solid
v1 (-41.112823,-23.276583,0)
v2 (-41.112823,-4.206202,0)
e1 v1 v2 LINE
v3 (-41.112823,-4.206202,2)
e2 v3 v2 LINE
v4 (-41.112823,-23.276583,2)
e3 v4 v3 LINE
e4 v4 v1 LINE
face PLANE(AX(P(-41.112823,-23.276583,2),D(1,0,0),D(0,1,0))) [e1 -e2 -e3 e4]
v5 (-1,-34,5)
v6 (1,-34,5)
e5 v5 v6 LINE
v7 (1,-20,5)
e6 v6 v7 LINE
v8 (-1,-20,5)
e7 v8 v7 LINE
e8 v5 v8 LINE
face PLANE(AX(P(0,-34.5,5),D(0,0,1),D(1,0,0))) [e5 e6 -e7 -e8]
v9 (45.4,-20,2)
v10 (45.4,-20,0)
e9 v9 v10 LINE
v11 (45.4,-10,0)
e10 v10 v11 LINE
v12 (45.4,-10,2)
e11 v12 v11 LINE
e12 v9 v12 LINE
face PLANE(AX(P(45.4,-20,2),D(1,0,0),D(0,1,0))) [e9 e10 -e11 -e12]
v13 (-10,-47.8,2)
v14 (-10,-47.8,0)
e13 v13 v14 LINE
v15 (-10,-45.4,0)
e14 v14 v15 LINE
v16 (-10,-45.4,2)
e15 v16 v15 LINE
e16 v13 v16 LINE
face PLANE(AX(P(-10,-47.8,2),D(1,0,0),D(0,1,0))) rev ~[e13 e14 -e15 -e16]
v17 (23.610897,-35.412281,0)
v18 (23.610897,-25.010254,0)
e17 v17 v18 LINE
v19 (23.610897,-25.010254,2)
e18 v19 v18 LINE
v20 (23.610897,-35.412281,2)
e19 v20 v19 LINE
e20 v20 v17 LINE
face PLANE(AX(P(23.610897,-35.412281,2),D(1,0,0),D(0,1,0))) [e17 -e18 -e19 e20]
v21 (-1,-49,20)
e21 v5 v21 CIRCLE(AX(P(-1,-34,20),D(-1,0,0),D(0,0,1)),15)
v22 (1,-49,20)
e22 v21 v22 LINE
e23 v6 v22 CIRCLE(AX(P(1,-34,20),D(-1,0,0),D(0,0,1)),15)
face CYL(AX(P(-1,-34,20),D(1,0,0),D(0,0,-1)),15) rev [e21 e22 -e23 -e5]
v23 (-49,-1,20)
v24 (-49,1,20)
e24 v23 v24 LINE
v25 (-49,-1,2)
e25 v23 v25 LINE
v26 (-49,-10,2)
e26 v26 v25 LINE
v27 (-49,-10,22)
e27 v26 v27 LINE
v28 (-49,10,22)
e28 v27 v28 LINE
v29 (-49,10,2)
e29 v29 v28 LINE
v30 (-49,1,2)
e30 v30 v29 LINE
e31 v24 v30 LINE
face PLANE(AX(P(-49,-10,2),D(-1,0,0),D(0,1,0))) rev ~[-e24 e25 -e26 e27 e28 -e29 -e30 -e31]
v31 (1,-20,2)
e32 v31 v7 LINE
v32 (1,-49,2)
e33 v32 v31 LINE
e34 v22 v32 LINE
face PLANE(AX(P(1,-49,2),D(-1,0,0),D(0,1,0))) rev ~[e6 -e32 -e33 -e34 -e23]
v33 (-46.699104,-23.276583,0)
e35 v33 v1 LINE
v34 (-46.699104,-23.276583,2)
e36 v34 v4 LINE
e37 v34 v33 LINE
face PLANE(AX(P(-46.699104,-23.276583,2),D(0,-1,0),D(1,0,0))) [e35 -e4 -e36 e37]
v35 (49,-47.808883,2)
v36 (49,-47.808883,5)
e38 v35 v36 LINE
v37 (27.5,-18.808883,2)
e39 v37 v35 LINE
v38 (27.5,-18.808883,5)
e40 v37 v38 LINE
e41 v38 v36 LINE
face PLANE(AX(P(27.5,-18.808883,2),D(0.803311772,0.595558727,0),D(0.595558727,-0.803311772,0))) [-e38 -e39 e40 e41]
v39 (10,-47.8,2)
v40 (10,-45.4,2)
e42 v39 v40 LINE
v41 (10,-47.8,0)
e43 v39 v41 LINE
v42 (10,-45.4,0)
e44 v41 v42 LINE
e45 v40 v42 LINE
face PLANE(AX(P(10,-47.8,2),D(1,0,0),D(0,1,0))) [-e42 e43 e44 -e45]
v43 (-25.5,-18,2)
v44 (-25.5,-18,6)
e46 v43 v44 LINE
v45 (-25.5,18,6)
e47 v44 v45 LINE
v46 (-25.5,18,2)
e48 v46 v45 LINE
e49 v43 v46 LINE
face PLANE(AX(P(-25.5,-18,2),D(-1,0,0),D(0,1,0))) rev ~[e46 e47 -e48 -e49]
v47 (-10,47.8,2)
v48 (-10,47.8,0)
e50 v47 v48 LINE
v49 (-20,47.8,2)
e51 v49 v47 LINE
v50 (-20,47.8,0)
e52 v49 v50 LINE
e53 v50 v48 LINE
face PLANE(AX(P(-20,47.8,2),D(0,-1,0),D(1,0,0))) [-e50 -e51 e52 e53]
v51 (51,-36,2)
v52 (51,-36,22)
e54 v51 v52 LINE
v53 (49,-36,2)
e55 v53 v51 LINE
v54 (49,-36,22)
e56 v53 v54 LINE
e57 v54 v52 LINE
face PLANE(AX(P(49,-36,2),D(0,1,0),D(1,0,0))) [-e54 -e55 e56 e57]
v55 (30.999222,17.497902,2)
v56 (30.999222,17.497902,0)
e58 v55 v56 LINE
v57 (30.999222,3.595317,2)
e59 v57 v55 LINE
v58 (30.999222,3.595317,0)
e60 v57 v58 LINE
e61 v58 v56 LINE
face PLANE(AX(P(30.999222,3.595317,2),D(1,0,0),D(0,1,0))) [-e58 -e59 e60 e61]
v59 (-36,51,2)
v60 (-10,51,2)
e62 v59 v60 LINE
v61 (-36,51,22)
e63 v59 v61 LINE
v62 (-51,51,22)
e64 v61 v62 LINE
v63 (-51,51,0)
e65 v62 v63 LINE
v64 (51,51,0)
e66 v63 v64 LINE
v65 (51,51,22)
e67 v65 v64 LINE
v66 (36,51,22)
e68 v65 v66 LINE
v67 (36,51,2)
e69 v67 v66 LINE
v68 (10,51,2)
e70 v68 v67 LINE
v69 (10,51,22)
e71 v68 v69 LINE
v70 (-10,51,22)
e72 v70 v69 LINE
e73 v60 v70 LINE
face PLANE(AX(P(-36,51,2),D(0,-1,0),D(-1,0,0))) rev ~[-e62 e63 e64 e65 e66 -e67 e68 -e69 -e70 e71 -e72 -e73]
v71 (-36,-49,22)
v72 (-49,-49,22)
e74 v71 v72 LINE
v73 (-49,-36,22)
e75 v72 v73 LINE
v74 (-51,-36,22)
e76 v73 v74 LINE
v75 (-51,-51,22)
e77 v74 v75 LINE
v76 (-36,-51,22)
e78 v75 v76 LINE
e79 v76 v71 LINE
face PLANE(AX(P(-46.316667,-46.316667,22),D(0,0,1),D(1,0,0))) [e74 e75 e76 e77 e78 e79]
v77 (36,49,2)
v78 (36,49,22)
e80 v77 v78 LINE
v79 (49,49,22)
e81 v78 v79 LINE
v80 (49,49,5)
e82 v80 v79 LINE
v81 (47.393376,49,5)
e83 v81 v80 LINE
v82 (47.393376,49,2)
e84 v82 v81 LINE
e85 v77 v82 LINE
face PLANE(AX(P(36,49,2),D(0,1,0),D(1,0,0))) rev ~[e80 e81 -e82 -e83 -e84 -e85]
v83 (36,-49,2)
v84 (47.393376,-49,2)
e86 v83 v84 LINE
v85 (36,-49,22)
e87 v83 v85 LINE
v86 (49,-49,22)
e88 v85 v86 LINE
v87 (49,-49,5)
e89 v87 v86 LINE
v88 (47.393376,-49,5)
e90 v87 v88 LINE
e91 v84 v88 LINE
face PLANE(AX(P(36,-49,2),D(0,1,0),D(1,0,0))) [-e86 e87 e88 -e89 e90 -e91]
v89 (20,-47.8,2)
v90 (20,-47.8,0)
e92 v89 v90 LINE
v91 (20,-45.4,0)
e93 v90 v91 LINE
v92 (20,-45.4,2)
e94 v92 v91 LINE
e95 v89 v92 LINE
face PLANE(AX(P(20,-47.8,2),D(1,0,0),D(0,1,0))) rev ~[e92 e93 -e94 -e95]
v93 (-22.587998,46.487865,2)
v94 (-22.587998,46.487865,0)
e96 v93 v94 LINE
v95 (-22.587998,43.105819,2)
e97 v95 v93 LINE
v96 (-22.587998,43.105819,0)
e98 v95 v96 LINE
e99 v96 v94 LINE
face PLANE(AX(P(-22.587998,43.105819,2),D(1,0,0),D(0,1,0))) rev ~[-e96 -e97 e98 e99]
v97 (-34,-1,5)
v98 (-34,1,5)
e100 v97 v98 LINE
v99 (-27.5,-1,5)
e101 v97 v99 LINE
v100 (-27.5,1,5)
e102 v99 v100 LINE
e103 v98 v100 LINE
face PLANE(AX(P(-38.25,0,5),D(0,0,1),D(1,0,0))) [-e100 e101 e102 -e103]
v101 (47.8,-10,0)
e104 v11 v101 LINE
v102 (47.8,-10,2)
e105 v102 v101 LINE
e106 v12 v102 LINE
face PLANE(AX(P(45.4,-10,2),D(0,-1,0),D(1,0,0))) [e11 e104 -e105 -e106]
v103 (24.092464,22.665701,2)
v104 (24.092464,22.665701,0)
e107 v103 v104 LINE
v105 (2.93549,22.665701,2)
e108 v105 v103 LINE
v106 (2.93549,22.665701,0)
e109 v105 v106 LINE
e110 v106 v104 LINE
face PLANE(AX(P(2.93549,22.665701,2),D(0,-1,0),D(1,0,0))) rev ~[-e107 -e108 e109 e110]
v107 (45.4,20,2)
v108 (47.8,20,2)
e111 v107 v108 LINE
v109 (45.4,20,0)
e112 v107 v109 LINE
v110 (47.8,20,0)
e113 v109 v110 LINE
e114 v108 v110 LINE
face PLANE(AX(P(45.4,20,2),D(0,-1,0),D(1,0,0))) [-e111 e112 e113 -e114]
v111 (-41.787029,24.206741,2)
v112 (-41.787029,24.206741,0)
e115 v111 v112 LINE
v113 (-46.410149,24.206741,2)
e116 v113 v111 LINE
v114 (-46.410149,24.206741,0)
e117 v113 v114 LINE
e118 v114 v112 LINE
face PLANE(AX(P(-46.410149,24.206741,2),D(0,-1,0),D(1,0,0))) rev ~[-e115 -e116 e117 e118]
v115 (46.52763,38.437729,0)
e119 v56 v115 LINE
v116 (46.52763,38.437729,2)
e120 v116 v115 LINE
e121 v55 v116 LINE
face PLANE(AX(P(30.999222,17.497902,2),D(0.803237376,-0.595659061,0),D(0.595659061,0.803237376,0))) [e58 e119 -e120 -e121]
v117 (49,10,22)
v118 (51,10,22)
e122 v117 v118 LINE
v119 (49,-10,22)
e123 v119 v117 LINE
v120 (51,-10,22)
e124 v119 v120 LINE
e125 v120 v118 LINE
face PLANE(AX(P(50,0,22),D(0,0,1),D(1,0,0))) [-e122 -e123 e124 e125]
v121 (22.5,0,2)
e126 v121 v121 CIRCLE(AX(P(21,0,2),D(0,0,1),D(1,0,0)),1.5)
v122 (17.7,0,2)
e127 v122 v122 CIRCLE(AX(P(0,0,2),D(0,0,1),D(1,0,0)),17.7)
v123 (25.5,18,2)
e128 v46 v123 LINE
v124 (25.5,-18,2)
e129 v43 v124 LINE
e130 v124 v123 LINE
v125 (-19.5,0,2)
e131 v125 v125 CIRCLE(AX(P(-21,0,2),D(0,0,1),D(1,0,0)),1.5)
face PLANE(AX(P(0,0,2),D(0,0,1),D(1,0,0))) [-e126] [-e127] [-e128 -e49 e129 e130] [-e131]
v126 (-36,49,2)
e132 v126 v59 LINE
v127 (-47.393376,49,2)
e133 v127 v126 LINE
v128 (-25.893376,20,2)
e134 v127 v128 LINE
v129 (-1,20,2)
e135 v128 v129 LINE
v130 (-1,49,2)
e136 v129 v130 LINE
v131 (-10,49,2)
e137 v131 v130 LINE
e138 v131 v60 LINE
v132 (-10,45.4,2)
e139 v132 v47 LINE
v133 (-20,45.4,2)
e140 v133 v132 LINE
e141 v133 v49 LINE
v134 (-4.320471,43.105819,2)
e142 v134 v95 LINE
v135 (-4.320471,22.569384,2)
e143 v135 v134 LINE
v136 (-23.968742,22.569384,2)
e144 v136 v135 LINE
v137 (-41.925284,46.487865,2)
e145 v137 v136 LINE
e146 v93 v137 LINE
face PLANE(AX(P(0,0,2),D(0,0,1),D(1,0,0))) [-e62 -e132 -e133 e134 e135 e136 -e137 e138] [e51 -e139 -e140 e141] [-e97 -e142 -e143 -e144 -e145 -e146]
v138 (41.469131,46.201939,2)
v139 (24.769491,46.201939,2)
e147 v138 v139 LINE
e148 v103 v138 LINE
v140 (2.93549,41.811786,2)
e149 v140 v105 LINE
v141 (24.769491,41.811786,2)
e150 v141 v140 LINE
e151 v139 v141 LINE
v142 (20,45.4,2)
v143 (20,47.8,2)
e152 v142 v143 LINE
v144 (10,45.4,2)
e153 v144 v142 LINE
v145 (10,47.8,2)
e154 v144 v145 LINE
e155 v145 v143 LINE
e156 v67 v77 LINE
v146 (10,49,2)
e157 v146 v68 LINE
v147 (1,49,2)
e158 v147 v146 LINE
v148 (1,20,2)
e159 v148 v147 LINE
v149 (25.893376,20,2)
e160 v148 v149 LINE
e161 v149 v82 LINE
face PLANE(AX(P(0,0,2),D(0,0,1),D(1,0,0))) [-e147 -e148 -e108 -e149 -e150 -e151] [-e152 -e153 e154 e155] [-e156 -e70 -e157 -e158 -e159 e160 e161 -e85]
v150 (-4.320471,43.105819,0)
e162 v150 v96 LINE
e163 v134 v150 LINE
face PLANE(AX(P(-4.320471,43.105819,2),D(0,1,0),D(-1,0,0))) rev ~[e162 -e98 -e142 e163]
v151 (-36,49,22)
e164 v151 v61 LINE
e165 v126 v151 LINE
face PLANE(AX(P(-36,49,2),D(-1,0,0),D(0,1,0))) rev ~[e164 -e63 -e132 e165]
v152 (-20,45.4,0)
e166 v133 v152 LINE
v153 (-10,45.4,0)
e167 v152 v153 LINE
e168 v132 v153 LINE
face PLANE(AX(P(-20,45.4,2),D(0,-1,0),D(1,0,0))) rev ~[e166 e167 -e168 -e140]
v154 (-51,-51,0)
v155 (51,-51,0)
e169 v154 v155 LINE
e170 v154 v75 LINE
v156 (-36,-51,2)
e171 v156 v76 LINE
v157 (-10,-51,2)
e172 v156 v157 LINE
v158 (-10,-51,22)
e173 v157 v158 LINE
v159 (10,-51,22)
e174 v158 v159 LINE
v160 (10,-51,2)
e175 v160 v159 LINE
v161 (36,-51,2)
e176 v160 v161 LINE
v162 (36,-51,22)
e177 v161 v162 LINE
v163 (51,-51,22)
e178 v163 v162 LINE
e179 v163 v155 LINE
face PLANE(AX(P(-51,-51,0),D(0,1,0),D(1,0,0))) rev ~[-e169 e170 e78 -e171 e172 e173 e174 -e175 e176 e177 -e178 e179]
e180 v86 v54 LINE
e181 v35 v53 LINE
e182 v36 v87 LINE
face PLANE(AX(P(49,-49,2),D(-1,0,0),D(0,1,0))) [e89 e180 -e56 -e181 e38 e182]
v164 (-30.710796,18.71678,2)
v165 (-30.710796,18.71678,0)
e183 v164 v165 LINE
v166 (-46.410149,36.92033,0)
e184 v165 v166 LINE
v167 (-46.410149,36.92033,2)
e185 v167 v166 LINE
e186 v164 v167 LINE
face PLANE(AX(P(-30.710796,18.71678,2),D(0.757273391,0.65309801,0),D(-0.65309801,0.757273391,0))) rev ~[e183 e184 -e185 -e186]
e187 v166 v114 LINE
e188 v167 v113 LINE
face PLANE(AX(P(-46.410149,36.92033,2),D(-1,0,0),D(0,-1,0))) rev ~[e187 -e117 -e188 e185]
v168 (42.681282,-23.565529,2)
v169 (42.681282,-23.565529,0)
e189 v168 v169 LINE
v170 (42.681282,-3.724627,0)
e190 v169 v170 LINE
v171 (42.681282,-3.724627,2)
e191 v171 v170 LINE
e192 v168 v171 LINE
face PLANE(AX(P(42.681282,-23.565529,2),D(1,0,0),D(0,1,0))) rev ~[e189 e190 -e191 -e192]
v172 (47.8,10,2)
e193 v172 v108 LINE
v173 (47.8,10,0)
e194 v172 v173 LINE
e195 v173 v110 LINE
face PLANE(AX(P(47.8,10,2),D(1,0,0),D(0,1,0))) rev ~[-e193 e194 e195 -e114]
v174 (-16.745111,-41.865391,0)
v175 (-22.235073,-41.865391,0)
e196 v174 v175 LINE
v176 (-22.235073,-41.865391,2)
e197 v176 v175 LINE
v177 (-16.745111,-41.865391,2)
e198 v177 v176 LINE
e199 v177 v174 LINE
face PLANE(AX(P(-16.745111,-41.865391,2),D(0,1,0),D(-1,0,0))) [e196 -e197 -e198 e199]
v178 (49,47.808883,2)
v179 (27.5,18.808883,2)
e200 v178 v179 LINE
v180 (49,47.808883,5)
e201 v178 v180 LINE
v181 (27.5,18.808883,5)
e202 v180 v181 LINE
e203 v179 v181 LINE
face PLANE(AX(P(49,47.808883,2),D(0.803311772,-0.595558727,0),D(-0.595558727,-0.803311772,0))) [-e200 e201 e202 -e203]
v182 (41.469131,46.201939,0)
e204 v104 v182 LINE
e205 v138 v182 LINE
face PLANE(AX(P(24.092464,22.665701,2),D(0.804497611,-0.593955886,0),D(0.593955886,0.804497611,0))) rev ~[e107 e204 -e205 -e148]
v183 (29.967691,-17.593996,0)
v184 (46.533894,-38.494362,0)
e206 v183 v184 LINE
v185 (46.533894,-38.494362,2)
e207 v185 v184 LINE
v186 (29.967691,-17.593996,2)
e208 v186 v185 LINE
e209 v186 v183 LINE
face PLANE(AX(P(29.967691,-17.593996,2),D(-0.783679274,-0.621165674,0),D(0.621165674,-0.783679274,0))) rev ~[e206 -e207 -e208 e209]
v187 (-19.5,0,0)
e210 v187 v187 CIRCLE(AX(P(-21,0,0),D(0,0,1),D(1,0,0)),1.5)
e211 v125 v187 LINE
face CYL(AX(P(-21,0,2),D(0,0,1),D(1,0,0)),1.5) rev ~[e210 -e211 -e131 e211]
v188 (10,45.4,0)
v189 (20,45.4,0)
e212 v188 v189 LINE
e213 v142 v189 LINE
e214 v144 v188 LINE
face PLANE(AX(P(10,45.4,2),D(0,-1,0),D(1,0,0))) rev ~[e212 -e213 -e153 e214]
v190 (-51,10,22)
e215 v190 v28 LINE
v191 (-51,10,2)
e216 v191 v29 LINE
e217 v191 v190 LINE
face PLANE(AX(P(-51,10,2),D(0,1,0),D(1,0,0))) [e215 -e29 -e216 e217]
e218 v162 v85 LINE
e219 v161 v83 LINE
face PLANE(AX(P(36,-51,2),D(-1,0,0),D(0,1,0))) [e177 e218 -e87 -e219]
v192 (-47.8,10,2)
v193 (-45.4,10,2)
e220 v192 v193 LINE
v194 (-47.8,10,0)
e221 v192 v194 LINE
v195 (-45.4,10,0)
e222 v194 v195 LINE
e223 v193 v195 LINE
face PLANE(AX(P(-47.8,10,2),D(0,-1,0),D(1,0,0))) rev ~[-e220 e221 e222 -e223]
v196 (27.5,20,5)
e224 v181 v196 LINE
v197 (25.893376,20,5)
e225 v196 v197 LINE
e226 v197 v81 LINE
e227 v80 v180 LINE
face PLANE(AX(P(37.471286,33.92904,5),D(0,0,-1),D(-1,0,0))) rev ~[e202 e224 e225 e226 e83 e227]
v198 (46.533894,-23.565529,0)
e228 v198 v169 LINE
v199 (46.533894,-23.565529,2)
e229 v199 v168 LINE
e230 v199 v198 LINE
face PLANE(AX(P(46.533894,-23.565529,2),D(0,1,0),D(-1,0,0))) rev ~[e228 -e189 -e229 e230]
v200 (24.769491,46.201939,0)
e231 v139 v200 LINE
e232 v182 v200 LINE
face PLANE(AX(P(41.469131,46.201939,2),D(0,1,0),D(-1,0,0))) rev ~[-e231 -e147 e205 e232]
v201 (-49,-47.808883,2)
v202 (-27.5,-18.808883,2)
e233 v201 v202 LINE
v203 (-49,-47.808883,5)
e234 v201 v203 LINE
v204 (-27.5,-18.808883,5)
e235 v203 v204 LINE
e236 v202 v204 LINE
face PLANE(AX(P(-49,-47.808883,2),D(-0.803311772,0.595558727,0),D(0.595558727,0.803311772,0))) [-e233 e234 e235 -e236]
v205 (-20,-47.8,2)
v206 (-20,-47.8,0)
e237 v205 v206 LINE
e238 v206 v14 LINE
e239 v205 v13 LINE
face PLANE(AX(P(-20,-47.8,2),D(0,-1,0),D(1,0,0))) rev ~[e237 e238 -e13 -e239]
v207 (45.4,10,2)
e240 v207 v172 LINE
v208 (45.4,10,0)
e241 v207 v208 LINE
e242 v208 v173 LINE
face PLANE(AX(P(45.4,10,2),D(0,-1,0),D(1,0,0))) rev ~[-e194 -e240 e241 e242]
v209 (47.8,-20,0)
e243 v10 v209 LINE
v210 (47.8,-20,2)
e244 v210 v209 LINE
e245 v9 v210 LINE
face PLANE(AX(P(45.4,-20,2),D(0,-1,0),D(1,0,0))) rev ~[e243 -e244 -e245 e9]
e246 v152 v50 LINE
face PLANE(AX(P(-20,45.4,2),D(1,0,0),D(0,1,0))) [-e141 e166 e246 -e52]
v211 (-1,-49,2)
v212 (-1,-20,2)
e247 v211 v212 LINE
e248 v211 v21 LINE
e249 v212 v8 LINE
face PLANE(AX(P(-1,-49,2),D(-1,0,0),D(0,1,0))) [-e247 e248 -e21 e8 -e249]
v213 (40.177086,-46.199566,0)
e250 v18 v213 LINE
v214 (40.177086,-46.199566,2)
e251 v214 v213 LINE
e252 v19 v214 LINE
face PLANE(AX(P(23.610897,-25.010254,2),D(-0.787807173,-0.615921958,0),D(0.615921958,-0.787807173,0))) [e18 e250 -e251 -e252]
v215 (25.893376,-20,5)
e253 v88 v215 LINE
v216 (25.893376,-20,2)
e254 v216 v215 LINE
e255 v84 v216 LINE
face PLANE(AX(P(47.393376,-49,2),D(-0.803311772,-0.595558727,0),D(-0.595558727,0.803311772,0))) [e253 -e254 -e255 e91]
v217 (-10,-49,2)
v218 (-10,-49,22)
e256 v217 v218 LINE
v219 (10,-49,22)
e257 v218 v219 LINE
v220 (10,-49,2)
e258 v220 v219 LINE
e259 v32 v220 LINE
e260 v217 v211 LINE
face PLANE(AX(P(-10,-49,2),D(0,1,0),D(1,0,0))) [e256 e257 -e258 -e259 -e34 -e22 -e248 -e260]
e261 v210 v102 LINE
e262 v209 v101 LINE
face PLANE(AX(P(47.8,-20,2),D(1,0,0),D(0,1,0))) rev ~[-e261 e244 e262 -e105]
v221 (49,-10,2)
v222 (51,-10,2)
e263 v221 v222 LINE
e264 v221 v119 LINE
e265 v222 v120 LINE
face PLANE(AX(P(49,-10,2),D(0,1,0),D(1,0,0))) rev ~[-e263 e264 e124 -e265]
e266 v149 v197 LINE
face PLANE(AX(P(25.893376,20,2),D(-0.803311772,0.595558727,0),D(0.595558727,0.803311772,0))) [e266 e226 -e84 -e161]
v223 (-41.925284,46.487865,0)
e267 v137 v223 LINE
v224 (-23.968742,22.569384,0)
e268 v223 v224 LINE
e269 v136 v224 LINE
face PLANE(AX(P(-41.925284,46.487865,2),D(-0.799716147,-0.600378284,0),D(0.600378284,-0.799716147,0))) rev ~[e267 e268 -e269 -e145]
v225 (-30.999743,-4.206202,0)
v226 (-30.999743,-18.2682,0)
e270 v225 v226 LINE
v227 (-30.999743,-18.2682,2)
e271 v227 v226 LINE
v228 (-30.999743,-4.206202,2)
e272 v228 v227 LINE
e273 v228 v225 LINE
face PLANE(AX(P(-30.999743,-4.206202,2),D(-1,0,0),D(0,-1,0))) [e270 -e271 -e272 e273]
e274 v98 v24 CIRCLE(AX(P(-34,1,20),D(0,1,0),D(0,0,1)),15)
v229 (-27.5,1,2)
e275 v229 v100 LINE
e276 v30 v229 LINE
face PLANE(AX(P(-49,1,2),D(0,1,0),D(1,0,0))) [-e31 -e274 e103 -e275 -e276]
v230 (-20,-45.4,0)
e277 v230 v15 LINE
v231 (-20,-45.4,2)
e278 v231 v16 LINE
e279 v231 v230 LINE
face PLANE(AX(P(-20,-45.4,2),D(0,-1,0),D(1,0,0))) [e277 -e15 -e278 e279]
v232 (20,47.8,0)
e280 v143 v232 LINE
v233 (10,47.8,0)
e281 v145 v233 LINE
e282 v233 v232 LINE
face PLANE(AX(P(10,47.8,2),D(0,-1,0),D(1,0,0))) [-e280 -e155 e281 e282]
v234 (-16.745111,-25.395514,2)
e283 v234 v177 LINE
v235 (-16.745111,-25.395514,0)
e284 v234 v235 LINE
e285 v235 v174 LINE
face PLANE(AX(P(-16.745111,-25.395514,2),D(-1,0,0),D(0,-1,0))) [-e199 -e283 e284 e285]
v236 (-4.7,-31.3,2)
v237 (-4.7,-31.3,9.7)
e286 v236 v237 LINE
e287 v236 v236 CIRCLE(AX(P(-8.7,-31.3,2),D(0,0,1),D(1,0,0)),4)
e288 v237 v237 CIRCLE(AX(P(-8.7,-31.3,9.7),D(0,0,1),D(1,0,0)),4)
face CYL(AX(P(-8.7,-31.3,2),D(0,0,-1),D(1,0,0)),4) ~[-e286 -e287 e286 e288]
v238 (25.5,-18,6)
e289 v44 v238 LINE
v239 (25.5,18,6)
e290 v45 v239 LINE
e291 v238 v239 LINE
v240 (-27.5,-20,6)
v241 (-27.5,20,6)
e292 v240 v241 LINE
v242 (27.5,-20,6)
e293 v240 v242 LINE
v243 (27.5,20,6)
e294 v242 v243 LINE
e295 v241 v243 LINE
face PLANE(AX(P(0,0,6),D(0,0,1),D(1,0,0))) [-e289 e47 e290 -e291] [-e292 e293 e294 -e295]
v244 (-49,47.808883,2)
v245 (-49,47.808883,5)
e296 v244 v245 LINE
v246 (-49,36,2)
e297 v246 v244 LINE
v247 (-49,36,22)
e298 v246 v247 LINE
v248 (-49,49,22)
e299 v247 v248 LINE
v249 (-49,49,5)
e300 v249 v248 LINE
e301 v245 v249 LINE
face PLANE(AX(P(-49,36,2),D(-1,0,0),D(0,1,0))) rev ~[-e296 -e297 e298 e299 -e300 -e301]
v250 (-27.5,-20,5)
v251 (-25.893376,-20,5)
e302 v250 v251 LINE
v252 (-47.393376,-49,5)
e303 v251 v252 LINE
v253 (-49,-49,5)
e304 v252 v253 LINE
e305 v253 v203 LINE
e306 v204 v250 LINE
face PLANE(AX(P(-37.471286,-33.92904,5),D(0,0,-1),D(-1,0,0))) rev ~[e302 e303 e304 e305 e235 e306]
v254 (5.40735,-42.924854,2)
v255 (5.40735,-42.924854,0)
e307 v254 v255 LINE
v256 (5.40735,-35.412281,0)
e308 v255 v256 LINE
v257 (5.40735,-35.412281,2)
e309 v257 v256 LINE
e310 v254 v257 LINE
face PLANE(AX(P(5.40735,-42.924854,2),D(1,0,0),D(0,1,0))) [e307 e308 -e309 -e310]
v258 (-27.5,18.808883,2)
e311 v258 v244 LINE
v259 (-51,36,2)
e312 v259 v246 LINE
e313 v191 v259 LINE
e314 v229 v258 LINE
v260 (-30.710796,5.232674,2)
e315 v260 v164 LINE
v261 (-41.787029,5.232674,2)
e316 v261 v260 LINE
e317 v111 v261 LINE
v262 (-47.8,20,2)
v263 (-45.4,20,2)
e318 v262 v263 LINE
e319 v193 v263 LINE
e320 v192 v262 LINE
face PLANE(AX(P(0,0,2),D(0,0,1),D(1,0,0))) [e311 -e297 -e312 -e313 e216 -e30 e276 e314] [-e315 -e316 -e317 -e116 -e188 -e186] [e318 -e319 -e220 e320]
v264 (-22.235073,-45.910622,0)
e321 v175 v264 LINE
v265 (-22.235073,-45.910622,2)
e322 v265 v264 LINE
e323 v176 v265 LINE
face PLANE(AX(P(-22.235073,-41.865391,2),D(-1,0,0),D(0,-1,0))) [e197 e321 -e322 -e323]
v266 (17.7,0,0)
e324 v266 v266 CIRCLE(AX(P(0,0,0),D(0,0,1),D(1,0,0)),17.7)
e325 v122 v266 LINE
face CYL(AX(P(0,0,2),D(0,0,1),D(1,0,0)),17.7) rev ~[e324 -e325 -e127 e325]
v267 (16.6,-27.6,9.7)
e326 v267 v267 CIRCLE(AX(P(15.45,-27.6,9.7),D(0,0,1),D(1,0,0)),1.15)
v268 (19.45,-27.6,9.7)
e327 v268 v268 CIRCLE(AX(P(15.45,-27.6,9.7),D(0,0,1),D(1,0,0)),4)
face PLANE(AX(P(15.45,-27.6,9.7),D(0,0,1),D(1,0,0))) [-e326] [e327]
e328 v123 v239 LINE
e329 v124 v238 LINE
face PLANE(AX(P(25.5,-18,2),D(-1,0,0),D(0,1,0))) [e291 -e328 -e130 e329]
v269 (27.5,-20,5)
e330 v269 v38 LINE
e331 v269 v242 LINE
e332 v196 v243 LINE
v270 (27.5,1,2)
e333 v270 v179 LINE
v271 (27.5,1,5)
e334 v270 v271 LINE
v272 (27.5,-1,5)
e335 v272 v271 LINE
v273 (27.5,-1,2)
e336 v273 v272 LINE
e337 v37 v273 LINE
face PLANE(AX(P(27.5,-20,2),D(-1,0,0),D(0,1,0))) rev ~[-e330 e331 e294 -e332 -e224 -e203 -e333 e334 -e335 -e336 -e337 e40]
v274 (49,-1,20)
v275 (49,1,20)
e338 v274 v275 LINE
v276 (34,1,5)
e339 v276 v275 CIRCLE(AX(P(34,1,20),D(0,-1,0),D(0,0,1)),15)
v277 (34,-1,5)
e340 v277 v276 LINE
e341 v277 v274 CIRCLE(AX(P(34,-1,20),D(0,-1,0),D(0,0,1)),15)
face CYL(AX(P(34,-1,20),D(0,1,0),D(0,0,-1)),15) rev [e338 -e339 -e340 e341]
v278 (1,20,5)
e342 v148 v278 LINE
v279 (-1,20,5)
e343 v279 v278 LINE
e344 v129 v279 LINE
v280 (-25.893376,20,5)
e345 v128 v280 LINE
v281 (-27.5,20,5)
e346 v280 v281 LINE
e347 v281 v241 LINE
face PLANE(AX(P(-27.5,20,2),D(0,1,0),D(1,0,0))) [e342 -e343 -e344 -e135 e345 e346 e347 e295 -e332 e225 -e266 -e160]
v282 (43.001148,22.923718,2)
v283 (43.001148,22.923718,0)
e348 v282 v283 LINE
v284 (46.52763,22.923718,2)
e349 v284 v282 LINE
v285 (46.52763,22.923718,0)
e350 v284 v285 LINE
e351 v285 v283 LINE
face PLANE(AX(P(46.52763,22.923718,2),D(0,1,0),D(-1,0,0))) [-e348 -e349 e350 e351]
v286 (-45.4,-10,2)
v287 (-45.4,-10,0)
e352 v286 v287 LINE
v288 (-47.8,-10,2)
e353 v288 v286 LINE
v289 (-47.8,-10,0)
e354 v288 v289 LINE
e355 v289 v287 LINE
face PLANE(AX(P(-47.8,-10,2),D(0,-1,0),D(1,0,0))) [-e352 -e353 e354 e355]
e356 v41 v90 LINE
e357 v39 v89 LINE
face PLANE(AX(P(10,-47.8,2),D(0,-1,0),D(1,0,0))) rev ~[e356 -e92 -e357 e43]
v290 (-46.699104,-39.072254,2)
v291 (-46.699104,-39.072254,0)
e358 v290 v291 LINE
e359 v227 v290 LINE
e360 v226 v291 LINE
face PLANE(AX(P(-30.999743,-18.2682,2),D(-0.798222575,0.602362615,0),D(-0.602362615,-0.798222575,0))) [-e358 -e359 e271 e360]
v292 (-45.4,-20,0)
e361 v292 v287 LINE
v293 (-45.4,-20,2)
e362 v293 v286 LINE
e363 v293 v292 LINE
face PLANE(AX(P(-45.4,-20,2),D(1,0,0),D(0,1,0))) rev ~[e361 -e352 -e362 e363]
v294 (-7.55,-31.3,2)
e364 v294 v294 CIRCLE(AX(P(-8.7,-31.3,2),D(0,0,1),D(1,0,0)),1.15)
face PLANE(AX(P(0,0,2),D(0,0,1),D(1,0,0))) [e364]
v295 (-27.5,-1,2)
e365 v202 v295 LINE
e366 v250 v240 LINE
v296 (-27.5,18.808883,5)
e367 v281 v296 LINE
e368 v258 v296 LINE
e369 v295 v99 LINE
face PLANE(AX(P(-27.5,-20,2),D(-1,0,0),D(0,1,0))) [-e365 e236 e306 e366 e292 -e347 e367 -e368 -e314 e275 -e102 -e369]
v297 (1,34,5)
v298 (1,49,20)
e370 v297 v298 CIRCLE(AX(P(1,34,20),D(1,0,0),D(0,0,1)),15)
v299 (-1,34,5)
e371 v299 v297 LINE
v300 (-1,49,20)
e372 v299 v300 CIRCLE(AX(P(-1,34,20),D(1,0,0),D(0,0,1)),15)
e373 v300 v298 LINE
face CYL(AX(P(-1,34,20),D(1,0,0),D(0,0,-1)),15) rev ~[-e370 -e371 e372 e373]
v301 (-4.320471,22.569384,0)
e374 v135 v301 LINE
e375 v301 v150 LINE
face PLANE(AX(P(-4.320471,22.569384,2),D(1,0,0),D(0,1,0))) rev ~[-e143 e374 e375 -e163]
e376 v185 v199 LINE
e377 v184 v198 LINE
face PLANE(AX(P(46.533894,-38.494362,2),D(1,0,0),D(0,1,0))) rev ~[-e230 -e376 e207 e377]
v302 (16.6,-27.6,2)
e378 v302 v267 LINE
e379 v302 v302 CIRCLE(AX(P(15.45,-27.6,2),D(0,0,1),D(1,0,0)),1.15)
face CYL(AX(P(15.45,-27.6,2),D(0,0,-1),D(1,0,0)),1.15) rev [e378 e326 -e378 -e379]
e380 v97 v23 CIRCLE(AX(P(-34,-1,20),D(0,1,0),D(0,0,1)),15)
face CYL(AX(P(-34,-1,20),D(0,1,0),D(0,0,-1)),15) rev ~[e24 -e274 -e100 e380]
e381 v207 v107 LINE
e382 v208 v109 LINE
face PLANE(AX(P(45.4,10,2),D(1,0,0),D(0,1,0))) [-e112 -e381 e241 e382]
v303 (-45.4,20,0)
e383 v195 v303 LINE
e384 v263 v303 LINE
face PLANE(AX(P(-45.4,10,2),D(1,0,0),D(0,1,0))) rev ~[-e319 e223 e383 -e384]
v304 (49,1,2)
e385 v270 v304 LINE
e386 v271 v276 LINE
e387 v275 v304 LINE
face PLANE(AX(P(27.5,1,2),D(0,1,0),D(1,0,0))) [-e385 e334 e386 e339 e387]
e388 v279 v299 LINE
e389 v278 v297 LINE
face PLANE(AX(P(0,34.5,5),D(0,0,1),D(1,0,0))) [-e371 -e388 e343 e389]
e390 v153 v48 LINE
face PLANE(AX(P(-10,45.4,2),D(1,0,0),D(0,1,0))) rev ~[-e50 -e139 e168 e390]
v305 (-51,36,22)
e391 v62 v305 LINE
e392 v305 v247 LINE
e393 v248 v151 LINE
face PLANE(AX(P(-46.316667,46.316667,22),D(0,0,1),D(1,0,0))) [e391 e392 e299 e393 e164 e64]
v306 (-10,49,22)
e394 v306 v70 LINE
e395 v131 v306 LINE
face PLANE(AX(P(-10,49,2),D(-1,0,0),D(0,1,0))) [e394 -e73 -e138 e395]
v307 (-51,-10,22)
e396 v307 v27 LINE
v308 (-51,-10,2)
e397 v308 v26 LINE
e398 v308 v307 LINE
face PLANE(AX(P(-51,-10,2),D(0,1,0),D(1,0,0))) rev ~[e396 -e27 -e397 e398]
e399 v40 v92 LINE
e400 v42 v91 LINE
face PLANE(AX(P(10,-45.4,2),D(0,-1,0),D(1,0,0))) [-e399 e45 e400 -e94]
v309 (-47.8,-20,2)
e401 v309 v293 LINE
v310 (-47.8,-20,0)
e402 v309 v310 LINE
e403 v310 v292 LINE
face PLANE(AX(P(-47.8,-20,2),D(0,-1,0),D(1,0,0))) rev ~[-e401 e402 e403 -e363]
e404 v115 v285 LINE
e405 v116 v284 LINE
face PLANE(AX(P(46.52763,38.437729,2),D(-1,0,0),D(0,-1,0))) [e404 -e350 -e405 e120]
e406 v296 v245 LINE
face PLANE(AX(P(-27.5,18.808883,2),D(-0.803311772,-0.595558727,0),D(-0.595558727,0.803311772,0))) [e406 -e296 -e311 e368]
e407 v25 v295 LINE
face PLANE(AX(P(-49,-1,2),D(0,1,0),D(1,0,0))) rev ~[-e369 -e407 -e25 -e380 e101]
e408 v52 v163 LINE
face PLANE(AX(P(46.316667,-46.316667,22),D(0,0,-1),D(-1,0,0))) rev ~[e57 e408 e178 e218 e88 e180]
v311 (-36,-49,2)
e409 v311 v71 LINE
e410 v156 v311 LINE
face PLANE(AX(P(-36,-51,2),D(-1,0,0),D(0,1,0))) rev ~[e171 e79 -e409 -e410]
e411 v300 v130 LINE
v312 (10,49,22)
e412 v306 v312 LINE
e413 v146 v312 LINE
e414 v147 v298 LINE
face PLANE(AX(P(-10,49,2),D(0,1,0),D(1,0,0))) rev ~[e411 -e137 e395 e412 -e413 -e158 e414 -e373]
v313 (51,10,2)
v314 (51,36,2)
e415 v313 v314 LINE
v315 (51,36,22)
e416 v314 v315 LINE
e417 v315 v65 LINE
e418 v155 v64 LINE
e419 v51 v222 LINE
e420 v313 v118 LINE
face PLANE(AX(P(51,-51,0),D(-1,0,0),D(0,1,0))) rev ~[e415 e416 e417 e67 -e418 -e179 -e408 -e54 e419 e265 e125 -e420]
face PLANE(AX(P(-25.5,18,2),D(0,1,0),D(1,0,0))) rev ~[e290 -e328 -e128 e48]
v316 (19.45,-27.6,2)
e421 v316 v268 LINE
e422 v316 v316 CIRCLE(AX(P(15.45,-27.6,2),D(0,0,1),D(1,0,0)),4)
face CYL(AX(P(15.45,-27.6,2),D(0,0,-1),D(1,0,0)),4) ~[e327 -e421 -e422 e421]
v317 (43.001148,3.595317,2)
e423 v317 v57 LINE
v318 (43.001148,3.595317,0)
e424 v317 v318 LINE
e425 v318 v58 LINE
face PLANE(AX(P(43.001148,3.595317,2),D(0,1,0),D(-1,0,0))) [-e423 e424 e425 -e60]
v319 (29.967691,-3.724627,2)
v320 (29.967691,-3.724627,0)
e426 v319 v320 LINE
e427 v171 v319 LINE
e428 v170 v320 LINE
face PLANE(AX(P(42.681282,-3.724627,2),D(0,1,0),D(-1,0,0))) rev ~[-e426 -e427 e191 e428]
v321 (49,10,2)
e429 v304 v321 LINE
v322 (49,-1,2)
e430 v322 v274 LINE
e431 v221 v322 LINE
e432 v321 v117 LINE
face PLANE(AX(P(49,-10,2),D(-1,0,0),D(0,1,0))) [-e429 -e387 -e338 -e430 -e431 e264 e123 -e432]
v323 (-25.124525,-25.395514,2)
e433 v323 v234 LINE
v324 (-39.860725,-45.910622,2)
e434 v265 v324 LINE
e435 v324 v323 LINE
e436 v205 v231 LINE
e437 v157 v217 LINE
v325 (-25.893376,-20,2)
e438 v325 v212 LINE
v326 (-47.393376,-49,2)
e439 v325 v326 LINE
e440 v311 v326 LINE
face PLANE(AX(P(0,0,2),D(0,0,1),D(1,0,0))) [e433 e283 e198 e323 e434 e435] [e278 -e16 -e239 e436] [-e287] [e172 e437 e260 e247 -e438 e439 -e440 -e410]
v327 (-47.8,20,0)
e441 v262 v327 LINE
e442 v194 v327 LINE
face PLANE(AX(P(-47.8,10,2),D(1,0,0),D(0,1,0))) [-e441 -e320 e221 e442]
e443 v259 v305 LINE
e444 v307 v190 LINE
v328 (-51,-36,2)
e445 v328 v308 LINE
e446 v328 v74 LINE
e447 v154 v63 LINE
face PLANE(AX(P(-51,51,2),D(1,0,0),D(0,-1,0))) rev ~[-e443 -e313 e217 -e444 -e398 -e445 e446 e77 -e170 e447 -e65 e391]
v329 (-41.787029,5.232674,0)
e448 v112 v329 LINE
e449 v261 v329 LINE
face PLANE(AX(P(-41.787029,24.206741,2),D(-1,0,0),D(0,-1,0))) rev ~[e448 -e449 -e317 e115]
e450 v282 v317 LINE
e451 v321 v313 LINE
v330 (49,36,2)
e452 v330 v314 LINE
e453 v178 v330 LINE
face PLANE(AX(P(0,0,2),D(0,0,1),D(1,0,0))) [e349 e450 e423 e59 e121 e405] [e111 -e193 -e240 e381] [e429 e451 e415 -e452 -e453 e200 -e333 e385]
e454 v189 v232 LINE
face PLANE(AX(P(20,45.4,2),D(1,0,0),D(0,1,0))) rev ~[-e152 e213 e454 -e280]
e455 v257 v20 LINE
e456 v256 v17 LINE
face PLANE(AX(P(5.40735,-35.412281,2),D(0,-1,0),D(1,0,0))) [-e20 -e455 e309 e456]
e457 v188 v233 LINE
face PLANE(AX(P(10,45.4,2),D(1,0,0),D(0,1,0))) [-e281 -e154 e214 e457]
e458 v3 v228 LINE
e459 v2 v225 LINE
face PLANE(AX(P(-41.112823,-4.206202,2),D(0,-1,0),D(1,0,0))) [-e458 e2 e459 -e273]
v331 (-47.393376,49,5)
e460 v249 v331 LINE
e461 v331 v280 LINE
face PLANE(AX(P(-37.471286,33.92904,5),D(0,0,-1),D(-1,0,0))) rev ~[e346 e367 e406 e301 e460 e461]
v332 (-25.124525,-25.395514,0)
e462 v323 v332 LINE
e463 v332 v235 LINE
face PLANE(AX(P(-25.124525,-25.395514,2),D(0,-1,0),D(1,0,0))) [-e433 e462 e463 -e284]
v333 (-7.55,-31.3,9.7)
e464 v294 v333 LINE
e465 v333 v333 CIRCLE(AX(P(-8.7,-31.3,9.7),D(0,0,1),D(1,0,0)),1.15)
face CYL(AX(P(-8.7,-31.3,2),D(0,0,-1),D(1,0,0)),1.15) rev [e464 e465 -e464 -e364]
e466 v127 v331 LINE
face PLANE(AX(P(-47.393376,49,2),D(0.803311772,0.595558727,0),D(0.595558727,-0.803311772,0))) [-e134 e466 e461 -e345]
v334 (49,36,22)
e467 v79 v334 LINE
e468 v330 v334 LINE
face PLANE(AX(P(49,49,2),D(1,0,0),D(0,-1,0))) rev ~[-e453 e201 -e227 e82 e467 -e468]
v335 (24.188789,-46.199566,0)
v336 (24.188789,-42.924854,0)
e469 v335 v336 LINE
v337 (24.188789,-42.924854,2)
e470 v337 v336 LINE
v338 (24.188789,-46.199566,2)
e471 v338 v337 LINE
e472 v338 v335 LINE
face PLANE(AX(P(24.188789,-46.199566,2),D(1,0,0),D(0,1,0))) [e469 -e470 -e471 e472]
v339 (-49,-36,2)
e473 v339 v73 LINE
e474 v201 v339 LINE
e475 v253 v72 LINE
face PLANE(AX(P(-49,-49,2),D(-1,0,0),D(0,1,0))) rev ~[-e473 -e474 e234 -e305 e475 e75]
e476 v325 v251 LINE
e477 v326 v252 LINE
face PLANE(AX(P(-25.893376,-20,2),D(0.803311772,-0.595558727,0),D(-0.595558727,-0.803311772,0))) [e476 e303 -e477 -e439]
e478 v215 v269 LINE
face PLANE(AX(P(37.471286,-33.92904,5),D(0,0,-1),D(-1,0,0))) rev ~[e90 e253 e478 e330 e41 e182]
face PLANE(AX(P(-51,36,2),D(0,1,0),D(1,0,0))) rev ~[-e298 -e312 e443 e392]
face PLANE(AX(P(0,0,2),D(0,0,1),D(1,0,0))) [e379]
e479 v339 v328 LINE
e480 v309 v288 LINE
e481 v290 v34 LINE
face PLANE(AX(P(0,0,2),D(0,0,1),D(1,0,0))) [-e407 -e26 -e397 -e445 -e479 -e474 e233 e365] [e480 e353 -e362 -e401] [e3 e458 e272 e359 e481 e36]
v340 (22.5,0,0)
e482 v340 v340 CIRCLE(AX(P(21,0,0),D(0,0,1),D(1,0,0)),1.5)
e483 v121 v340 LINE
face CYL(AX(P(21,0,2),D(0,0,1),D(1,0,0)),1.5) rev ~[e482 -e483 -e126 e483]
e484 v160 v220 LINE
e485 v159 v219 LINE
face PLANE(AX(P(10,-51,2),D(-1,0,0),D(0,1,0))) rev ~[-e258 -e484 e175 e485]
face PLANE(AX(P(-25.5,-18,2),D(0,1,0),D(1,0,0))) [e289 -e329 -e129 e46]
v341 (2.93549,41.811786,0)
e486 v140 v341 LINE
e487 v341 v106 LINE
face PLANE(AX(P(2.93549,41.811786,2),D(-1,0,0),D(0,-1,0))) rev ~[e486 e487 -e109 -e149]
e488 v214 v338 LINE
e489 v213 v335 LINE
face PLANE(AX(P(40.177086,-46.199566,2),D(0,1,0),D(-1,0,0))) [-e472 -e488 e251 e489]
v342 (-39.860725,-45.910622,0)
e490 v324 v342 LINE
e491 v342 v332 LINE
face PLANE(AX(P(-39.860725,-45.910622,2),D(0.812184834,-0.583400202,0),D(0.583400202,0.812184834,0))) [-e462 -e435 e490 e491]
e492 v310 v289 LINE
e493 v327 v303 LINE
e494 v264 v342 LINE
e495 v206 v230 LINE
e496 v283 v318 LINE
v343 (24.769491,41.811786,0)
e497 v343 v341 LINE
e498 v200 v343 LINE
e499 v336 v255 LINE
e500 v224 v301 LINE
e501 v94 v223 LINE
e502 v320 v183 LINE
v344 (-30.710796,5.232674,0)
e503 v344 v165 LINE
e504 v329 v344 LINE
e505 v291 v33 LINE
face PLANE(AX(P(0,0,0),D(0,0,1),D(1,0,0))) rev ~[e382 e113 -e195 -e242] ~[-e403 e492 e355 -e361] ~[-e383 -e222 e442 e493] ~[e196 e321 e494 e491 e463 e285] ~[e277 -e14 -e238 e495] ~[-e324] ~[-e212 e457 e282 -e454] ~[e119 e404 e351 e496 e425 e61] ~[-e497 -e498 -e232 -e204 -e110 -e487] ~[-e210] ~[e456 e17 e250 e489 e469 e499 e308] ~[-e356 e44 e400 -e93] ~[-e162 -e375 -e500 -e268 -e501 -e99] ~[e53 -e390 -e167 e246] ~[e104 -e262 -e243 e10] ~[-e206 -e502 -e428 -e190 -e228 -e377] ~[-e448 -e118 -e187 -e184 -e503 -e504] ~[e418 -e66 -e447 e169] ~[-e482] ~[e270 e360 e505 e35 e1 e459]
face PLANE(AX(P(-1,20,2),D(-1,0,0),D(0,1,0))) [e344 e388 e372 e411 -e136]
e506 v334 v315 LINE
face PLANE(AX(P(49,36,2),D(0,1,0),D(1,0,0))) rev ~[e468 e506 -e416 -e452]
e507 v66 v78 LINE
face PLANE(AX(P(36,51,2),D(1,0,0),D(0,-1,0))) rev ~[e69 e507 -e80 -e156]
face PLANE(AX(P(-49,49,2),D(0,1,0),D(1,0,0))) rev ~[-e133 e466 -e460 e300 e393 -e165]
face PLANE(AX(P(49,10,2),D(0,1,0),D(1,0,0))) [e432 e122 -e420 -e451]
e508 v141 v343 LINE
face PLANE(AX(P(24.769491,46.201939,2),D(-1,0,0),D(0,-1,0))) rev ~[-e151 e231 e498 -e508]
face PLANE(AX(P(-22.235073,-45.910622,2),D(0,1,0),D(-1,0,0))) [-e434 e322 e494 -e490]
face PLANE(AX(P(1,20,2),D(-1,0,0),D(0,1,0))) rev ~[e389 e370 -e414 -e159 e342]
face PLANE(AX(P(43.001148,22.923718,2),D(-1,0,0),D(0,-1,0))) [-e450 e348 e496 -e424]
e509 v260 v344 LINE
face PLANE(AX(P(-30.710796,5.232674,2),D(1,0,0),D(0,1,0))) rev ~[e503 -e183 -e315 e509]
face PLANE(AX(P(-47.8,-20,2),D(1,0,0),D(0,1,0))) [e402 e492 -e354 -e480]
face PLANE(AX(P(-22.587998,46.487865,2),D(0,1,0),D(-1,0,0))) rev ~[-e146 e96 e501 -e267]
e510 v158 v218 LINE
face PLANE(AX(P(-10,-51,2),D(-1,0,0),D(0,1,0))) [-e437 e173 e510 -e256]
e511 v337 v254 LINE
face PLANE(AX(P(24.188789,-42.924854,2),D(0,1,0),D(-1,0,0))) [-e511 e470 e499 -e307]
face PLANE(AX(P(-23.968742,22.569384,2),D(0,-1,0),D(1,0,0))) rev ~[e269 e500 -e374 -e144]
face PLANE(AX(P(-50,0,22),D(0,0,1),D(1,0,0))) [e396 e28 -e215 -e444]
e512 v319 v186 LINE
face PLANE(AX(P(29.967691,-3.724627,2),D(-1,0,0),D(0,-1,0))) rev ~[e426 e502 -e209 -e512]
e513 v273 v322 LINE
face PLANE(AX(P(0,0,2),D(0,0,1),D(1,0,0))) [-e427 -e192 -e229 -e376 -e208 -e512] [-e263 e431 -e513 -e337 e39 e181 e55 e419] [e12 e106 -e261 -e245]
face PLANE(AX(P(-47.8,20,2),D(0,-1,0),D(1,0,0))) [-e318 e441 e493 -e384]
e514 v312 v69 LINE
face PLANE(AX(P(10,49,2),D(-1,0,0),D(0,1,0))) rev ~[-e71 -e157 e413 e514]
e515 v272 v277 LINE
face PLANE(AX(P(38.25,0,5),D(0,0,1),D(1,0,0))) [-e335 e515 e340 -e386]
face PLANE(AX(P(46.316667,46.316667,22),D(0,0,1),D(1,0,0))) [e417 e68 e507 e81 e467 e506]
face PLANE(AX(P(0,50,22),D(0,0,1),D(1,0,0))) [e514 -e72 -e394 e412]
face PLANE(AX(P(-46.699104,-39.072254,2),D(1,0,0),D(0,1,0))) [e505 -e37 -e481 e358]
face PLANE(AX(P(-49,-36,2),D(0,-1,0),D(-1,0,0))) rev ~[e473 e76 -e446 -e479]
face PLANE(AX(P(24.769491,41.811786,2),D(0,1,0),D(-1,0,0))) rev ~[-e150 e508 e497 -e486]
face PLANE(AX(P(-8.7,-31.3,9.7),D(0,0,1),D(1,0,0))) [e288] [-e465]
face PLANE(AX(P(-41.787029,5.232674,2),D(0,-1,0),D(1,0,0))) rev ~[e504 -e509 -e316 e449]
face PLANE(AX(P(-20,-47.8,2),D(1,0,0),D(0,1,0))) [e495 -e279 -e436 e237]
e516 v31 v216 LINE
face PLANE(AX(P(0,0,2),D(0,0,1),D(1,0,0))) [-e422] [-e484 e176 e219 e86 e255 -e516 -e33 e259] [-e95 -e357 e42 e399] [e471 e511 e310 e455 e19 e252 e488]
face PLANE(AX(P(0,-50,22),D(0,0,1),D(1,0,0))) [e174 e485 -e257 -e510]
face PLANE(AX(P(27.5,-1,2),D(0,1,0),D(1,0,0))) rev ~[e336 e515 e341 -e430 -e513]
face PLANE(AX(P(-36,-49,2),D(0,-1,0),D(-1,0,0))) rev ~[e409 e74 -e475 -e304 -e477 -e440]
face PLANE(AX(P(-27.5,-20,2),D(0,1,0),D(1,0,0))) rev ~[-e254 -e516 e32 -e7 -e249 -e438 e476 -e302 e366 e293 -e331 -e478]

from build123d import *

# Parameters (mm, degrees)
SKETCH_W        = 102
SKETCH_H        = 102
PAD_DEPTH       = 2
SKETCH001_R     = 17.7
SKETCH001_R_2   = 1.5
SKETCH001_W     = 10
SKETCH001_H     = 2.4
SKETCH001_W_2   = 2.4
SKETCH001_H_2   = 10
POCKET_DEPTH    = 2.001
SKETCH002_R     = 4
SKETCH002_R_2   = 1.15
PAD001_DEPTH    = 7.7
SKETCH003_W     = 20
SKETCH003_H     = 2
SKETCH003_W_2   = 2
SKETCH003_H_2   = 20
PAD002_DEPTH    = 20
SKETCH004_W     = 55
SKETCH004_H     = 40
SKETCH004_W_2   = 51
SKETCH004_H_2   = 36
PAD003_DEPTH    = 4
SKETCH005_W     = 2
SKETCH005_H     = 29
SKETCH005_W_2   = 21.5
SKETCH005_H_2   = 2
PAD004_DEPTH    = 3
POCKET001_DEPTH = 2.001
FILLET_R        = 15


with BuildPart() as part:
    # Sketch → Pad (new body)
    with BuildSketch(Plane.XY):
        Rectangle(SKETCH_W, SKETCH_H)
    extrude(amount=PAD_DEPTH)

    # Sketch001 → Pocket (cut, through all)
    with BuildSketch(Plane.XY.offset(2)):
        Circle(SKETCH001_R)
        with Locations((-21, 0)):
            Circle(SKETCH001_R_2)
        with Locations((21, 0)):
            Circle(SKETCH001_R_2)
        with Locations((-15, 46.6)):
            Rectangle(SKETCH001_W, SKETCH001_H)
        with Locations((15, 46.6)):
            Rectangle(SKETCH001_W, SKETCH001_H)
        with Locations((46.6, 15)):
            Rectangle(SKETCH001_W_2, SKETCH001_H_2)
        with Locations((46.6, -15)):
            Rectangle(SKETCH001_W_2, SKETCH001_H_2)
        with Locations((15, -46.6)):
            Rectangle(SKETCH001_W, SKETCH001_H)
        with Locations((-15, -46.6)):
            Rectangle(SKETCH001_W, SKETCH001_H)
        with Locations((-46.6, 15)):
            Rectangle(SKETCH001_W_2, SKETCH001_H_2)
        with Locations((-46.6, -15)):
            Rectangle(SKETCH001_W_2, SKETCH001_H_2)
    extrude(amount=-POCKET_DEPTH, mode=Mode.SUBTRACT)

    # Sketch002 → Pad001 (new body)
    with BuildSketch(Plane.XY.offset(2)):
        with Locations((15.45, -27.6)):
            Circle(SKETCH002_R)
        with Locations((15.45, -27.6)):
            Circle(SKETCH002_R_2, mode=Mode.SUBTRACT)
        with Locations((-8.7, -31.3)):
            Circle(SKETCH002_R)
        with Locations((-8.7, -31.3)):
            Circle(SKETCH002_R_2, mode=Mode.SUBTRACT)
    extrude(amount=PAD001_DEPTH)

    # Sketch003 → Pad002 (new body)
    with BuildSketch(Plane.XY.offset(2)):
        Polygon((-51, 36), (-49, 36), (-49, 49), (-36, 49), (-36, 51), (-51, 51), align=None)
        Polygon((36, 51), (36, 49), (49, 49), (49, 36), (51, 36), (51, 51), align=None)
        Polygon((51, -36), (51, -51), (36, -51), (36, -49), (49, -49), (49, -36), align=None)
        Polygon((-51, -51), (-36, -51), (-36, -49), (-49, -49), (-49, -36), (-51, -36), align=None)
        with Locations((0, 50)):
            Rectangle(SKETCH003_W, SKETCH003_H)
        with Locations((50, 0)):
            Rectangle(SKETCH003_W_2, SKETCH003_H_2)
        with Locations((0, -50)):
            Rectangle(SKETCH003_W, SKETCH003_H)
        with Locations((-50, 0)):
            Rectangle(SKETCH003_W_2, SKETCH003_H_2)
    extrude(amount=PAD002_DEPTH)

    # Sketch004 → Pad003 (new body)
    with BuildSketch(Plane.XY.offset(2)):
        Rectangle(SKETCH004_W, SKETCH004_H)
        Rectangle(SKETCH004_W_2, SKETCH004_H_2, mode=Mode.SUBTRACT)
    extrude(amount=PAD003_DEPTH)

    # Sketch005 → Pad004 (new body)
    with BuildSketch(Plane.XY.offset(2)):
        with Locations((0, 34.5)):
            Rectangle(SKETCH005_W, SKETCH005_H)
        with Locations((38.25, 0)):
            Rectangle(SKETCH005_W_2, SKETCH005_H_2)
        with Locations((0, -34.5)):
            Rectangle(SKETCH005_W, SKETCH005_H)
        with Locations((-38.25, 0)):
            Rectangle(SKETCH005_W_2, SKETCH005_H_2)
        Polygon((-27.5, 18.808883), (-49, 47.808883), (-49, 49), (-47.393376, 49), (-25.893376, 20), (-27.5, 20), align=None)
        Polygon((25.893376, 20), (47.393376, 49), (49, 49), (49, 47.808883), (27.5, 18.808883), (27.5, 20), align=None)
        Polygon((47.393376, -49), (25.893376, -20), (27.5, -20), (27.5, -18.808883), (49, -47.808883), (49, -49), align=None)
        Polygon((-47.393376, -49), (-49, -49), (-49, -47.808883), (-27.5, -18.808883), (-27.5, -20), (-25.893376, -20), align=None)
    extrude(amount=PAD004_DEPTH)

    # Sketch006 → Pocket001 (cut, through all)
    with BuildSketch(Plane.XY.offset(2)):
        Polygon((-41.925284, 46.487865), (-23.968742, 22.569384), (-4.320471, 22.569384), (-4.320471, 43.105819), (-22.587998, 43.105819), (-22.587998, 46.487865), align=None)
        Polygon((2.93549, 41.811786), (2.93549, 22.665701), (24.092464, 22.665701), (41.469131, 46.201939), (24.769491, 46.201939), (24.769491, 41.811786), align=None)
        Polygon((46.52763, 38.437729), (46.52763, 22.923718), (43.001148, 22.923718), (43.001148, 3.595317), (30.999222, 3.595317), (30.999222, 17.497902), align=None)
        Polygon((46.533894, -38.494362), (46.533894, -23.565529), (42.681282, -23.565529), (42.681282, -3.724627), (29.967691, -3.724627), (29.967691, -17.593996), align=None)
        Polygon((40.177086, -46.199566), (24.188789, -46.199566), (24.188789, -42.924854), (5.40735, -42.924854), (5.40735, -35.412281), (23.610897, -35.412281), (23.610897, -25.010254), align=None)
        Polygon((-39.860725, -45.910622), (-25.124525, -25.395514), (-16.745111, -25.395514), (-16.745111, -41.865391), (-22.235073, -41.865391), (-22.235073, -45.910622), align=None)
        Polygon((-46.410149, 36.92033), (-46.410149, 24.206741), (-41.787029, 24.206741), (-41.787029, 5.232674), (-30.710796, 5.232674), (-30.710796, 18.71678), align=None)
        Polygon((-46.699104, -39.072254), (-46.699104, -23.276583), (-41.112823, -23.276583), (-41.112823, -4.206202), (-30.999743, -4.206202), (-30.999743, -18.2682), align=None)
    extrude(amount=-POCKET001_DEPTH, mode=Mode.SUBTRACT)

    # Fillet
    fillet_edges = [part.edges().sort_by_distance(p)[0] for p in [
        (-49, 0, 5),
        (0, 49, 5),
        (49, 0, 5),
        (0, -49, 5),
    ]]
    fillet(fillet_edges, radius=FILLET_R)


solid = part.part
